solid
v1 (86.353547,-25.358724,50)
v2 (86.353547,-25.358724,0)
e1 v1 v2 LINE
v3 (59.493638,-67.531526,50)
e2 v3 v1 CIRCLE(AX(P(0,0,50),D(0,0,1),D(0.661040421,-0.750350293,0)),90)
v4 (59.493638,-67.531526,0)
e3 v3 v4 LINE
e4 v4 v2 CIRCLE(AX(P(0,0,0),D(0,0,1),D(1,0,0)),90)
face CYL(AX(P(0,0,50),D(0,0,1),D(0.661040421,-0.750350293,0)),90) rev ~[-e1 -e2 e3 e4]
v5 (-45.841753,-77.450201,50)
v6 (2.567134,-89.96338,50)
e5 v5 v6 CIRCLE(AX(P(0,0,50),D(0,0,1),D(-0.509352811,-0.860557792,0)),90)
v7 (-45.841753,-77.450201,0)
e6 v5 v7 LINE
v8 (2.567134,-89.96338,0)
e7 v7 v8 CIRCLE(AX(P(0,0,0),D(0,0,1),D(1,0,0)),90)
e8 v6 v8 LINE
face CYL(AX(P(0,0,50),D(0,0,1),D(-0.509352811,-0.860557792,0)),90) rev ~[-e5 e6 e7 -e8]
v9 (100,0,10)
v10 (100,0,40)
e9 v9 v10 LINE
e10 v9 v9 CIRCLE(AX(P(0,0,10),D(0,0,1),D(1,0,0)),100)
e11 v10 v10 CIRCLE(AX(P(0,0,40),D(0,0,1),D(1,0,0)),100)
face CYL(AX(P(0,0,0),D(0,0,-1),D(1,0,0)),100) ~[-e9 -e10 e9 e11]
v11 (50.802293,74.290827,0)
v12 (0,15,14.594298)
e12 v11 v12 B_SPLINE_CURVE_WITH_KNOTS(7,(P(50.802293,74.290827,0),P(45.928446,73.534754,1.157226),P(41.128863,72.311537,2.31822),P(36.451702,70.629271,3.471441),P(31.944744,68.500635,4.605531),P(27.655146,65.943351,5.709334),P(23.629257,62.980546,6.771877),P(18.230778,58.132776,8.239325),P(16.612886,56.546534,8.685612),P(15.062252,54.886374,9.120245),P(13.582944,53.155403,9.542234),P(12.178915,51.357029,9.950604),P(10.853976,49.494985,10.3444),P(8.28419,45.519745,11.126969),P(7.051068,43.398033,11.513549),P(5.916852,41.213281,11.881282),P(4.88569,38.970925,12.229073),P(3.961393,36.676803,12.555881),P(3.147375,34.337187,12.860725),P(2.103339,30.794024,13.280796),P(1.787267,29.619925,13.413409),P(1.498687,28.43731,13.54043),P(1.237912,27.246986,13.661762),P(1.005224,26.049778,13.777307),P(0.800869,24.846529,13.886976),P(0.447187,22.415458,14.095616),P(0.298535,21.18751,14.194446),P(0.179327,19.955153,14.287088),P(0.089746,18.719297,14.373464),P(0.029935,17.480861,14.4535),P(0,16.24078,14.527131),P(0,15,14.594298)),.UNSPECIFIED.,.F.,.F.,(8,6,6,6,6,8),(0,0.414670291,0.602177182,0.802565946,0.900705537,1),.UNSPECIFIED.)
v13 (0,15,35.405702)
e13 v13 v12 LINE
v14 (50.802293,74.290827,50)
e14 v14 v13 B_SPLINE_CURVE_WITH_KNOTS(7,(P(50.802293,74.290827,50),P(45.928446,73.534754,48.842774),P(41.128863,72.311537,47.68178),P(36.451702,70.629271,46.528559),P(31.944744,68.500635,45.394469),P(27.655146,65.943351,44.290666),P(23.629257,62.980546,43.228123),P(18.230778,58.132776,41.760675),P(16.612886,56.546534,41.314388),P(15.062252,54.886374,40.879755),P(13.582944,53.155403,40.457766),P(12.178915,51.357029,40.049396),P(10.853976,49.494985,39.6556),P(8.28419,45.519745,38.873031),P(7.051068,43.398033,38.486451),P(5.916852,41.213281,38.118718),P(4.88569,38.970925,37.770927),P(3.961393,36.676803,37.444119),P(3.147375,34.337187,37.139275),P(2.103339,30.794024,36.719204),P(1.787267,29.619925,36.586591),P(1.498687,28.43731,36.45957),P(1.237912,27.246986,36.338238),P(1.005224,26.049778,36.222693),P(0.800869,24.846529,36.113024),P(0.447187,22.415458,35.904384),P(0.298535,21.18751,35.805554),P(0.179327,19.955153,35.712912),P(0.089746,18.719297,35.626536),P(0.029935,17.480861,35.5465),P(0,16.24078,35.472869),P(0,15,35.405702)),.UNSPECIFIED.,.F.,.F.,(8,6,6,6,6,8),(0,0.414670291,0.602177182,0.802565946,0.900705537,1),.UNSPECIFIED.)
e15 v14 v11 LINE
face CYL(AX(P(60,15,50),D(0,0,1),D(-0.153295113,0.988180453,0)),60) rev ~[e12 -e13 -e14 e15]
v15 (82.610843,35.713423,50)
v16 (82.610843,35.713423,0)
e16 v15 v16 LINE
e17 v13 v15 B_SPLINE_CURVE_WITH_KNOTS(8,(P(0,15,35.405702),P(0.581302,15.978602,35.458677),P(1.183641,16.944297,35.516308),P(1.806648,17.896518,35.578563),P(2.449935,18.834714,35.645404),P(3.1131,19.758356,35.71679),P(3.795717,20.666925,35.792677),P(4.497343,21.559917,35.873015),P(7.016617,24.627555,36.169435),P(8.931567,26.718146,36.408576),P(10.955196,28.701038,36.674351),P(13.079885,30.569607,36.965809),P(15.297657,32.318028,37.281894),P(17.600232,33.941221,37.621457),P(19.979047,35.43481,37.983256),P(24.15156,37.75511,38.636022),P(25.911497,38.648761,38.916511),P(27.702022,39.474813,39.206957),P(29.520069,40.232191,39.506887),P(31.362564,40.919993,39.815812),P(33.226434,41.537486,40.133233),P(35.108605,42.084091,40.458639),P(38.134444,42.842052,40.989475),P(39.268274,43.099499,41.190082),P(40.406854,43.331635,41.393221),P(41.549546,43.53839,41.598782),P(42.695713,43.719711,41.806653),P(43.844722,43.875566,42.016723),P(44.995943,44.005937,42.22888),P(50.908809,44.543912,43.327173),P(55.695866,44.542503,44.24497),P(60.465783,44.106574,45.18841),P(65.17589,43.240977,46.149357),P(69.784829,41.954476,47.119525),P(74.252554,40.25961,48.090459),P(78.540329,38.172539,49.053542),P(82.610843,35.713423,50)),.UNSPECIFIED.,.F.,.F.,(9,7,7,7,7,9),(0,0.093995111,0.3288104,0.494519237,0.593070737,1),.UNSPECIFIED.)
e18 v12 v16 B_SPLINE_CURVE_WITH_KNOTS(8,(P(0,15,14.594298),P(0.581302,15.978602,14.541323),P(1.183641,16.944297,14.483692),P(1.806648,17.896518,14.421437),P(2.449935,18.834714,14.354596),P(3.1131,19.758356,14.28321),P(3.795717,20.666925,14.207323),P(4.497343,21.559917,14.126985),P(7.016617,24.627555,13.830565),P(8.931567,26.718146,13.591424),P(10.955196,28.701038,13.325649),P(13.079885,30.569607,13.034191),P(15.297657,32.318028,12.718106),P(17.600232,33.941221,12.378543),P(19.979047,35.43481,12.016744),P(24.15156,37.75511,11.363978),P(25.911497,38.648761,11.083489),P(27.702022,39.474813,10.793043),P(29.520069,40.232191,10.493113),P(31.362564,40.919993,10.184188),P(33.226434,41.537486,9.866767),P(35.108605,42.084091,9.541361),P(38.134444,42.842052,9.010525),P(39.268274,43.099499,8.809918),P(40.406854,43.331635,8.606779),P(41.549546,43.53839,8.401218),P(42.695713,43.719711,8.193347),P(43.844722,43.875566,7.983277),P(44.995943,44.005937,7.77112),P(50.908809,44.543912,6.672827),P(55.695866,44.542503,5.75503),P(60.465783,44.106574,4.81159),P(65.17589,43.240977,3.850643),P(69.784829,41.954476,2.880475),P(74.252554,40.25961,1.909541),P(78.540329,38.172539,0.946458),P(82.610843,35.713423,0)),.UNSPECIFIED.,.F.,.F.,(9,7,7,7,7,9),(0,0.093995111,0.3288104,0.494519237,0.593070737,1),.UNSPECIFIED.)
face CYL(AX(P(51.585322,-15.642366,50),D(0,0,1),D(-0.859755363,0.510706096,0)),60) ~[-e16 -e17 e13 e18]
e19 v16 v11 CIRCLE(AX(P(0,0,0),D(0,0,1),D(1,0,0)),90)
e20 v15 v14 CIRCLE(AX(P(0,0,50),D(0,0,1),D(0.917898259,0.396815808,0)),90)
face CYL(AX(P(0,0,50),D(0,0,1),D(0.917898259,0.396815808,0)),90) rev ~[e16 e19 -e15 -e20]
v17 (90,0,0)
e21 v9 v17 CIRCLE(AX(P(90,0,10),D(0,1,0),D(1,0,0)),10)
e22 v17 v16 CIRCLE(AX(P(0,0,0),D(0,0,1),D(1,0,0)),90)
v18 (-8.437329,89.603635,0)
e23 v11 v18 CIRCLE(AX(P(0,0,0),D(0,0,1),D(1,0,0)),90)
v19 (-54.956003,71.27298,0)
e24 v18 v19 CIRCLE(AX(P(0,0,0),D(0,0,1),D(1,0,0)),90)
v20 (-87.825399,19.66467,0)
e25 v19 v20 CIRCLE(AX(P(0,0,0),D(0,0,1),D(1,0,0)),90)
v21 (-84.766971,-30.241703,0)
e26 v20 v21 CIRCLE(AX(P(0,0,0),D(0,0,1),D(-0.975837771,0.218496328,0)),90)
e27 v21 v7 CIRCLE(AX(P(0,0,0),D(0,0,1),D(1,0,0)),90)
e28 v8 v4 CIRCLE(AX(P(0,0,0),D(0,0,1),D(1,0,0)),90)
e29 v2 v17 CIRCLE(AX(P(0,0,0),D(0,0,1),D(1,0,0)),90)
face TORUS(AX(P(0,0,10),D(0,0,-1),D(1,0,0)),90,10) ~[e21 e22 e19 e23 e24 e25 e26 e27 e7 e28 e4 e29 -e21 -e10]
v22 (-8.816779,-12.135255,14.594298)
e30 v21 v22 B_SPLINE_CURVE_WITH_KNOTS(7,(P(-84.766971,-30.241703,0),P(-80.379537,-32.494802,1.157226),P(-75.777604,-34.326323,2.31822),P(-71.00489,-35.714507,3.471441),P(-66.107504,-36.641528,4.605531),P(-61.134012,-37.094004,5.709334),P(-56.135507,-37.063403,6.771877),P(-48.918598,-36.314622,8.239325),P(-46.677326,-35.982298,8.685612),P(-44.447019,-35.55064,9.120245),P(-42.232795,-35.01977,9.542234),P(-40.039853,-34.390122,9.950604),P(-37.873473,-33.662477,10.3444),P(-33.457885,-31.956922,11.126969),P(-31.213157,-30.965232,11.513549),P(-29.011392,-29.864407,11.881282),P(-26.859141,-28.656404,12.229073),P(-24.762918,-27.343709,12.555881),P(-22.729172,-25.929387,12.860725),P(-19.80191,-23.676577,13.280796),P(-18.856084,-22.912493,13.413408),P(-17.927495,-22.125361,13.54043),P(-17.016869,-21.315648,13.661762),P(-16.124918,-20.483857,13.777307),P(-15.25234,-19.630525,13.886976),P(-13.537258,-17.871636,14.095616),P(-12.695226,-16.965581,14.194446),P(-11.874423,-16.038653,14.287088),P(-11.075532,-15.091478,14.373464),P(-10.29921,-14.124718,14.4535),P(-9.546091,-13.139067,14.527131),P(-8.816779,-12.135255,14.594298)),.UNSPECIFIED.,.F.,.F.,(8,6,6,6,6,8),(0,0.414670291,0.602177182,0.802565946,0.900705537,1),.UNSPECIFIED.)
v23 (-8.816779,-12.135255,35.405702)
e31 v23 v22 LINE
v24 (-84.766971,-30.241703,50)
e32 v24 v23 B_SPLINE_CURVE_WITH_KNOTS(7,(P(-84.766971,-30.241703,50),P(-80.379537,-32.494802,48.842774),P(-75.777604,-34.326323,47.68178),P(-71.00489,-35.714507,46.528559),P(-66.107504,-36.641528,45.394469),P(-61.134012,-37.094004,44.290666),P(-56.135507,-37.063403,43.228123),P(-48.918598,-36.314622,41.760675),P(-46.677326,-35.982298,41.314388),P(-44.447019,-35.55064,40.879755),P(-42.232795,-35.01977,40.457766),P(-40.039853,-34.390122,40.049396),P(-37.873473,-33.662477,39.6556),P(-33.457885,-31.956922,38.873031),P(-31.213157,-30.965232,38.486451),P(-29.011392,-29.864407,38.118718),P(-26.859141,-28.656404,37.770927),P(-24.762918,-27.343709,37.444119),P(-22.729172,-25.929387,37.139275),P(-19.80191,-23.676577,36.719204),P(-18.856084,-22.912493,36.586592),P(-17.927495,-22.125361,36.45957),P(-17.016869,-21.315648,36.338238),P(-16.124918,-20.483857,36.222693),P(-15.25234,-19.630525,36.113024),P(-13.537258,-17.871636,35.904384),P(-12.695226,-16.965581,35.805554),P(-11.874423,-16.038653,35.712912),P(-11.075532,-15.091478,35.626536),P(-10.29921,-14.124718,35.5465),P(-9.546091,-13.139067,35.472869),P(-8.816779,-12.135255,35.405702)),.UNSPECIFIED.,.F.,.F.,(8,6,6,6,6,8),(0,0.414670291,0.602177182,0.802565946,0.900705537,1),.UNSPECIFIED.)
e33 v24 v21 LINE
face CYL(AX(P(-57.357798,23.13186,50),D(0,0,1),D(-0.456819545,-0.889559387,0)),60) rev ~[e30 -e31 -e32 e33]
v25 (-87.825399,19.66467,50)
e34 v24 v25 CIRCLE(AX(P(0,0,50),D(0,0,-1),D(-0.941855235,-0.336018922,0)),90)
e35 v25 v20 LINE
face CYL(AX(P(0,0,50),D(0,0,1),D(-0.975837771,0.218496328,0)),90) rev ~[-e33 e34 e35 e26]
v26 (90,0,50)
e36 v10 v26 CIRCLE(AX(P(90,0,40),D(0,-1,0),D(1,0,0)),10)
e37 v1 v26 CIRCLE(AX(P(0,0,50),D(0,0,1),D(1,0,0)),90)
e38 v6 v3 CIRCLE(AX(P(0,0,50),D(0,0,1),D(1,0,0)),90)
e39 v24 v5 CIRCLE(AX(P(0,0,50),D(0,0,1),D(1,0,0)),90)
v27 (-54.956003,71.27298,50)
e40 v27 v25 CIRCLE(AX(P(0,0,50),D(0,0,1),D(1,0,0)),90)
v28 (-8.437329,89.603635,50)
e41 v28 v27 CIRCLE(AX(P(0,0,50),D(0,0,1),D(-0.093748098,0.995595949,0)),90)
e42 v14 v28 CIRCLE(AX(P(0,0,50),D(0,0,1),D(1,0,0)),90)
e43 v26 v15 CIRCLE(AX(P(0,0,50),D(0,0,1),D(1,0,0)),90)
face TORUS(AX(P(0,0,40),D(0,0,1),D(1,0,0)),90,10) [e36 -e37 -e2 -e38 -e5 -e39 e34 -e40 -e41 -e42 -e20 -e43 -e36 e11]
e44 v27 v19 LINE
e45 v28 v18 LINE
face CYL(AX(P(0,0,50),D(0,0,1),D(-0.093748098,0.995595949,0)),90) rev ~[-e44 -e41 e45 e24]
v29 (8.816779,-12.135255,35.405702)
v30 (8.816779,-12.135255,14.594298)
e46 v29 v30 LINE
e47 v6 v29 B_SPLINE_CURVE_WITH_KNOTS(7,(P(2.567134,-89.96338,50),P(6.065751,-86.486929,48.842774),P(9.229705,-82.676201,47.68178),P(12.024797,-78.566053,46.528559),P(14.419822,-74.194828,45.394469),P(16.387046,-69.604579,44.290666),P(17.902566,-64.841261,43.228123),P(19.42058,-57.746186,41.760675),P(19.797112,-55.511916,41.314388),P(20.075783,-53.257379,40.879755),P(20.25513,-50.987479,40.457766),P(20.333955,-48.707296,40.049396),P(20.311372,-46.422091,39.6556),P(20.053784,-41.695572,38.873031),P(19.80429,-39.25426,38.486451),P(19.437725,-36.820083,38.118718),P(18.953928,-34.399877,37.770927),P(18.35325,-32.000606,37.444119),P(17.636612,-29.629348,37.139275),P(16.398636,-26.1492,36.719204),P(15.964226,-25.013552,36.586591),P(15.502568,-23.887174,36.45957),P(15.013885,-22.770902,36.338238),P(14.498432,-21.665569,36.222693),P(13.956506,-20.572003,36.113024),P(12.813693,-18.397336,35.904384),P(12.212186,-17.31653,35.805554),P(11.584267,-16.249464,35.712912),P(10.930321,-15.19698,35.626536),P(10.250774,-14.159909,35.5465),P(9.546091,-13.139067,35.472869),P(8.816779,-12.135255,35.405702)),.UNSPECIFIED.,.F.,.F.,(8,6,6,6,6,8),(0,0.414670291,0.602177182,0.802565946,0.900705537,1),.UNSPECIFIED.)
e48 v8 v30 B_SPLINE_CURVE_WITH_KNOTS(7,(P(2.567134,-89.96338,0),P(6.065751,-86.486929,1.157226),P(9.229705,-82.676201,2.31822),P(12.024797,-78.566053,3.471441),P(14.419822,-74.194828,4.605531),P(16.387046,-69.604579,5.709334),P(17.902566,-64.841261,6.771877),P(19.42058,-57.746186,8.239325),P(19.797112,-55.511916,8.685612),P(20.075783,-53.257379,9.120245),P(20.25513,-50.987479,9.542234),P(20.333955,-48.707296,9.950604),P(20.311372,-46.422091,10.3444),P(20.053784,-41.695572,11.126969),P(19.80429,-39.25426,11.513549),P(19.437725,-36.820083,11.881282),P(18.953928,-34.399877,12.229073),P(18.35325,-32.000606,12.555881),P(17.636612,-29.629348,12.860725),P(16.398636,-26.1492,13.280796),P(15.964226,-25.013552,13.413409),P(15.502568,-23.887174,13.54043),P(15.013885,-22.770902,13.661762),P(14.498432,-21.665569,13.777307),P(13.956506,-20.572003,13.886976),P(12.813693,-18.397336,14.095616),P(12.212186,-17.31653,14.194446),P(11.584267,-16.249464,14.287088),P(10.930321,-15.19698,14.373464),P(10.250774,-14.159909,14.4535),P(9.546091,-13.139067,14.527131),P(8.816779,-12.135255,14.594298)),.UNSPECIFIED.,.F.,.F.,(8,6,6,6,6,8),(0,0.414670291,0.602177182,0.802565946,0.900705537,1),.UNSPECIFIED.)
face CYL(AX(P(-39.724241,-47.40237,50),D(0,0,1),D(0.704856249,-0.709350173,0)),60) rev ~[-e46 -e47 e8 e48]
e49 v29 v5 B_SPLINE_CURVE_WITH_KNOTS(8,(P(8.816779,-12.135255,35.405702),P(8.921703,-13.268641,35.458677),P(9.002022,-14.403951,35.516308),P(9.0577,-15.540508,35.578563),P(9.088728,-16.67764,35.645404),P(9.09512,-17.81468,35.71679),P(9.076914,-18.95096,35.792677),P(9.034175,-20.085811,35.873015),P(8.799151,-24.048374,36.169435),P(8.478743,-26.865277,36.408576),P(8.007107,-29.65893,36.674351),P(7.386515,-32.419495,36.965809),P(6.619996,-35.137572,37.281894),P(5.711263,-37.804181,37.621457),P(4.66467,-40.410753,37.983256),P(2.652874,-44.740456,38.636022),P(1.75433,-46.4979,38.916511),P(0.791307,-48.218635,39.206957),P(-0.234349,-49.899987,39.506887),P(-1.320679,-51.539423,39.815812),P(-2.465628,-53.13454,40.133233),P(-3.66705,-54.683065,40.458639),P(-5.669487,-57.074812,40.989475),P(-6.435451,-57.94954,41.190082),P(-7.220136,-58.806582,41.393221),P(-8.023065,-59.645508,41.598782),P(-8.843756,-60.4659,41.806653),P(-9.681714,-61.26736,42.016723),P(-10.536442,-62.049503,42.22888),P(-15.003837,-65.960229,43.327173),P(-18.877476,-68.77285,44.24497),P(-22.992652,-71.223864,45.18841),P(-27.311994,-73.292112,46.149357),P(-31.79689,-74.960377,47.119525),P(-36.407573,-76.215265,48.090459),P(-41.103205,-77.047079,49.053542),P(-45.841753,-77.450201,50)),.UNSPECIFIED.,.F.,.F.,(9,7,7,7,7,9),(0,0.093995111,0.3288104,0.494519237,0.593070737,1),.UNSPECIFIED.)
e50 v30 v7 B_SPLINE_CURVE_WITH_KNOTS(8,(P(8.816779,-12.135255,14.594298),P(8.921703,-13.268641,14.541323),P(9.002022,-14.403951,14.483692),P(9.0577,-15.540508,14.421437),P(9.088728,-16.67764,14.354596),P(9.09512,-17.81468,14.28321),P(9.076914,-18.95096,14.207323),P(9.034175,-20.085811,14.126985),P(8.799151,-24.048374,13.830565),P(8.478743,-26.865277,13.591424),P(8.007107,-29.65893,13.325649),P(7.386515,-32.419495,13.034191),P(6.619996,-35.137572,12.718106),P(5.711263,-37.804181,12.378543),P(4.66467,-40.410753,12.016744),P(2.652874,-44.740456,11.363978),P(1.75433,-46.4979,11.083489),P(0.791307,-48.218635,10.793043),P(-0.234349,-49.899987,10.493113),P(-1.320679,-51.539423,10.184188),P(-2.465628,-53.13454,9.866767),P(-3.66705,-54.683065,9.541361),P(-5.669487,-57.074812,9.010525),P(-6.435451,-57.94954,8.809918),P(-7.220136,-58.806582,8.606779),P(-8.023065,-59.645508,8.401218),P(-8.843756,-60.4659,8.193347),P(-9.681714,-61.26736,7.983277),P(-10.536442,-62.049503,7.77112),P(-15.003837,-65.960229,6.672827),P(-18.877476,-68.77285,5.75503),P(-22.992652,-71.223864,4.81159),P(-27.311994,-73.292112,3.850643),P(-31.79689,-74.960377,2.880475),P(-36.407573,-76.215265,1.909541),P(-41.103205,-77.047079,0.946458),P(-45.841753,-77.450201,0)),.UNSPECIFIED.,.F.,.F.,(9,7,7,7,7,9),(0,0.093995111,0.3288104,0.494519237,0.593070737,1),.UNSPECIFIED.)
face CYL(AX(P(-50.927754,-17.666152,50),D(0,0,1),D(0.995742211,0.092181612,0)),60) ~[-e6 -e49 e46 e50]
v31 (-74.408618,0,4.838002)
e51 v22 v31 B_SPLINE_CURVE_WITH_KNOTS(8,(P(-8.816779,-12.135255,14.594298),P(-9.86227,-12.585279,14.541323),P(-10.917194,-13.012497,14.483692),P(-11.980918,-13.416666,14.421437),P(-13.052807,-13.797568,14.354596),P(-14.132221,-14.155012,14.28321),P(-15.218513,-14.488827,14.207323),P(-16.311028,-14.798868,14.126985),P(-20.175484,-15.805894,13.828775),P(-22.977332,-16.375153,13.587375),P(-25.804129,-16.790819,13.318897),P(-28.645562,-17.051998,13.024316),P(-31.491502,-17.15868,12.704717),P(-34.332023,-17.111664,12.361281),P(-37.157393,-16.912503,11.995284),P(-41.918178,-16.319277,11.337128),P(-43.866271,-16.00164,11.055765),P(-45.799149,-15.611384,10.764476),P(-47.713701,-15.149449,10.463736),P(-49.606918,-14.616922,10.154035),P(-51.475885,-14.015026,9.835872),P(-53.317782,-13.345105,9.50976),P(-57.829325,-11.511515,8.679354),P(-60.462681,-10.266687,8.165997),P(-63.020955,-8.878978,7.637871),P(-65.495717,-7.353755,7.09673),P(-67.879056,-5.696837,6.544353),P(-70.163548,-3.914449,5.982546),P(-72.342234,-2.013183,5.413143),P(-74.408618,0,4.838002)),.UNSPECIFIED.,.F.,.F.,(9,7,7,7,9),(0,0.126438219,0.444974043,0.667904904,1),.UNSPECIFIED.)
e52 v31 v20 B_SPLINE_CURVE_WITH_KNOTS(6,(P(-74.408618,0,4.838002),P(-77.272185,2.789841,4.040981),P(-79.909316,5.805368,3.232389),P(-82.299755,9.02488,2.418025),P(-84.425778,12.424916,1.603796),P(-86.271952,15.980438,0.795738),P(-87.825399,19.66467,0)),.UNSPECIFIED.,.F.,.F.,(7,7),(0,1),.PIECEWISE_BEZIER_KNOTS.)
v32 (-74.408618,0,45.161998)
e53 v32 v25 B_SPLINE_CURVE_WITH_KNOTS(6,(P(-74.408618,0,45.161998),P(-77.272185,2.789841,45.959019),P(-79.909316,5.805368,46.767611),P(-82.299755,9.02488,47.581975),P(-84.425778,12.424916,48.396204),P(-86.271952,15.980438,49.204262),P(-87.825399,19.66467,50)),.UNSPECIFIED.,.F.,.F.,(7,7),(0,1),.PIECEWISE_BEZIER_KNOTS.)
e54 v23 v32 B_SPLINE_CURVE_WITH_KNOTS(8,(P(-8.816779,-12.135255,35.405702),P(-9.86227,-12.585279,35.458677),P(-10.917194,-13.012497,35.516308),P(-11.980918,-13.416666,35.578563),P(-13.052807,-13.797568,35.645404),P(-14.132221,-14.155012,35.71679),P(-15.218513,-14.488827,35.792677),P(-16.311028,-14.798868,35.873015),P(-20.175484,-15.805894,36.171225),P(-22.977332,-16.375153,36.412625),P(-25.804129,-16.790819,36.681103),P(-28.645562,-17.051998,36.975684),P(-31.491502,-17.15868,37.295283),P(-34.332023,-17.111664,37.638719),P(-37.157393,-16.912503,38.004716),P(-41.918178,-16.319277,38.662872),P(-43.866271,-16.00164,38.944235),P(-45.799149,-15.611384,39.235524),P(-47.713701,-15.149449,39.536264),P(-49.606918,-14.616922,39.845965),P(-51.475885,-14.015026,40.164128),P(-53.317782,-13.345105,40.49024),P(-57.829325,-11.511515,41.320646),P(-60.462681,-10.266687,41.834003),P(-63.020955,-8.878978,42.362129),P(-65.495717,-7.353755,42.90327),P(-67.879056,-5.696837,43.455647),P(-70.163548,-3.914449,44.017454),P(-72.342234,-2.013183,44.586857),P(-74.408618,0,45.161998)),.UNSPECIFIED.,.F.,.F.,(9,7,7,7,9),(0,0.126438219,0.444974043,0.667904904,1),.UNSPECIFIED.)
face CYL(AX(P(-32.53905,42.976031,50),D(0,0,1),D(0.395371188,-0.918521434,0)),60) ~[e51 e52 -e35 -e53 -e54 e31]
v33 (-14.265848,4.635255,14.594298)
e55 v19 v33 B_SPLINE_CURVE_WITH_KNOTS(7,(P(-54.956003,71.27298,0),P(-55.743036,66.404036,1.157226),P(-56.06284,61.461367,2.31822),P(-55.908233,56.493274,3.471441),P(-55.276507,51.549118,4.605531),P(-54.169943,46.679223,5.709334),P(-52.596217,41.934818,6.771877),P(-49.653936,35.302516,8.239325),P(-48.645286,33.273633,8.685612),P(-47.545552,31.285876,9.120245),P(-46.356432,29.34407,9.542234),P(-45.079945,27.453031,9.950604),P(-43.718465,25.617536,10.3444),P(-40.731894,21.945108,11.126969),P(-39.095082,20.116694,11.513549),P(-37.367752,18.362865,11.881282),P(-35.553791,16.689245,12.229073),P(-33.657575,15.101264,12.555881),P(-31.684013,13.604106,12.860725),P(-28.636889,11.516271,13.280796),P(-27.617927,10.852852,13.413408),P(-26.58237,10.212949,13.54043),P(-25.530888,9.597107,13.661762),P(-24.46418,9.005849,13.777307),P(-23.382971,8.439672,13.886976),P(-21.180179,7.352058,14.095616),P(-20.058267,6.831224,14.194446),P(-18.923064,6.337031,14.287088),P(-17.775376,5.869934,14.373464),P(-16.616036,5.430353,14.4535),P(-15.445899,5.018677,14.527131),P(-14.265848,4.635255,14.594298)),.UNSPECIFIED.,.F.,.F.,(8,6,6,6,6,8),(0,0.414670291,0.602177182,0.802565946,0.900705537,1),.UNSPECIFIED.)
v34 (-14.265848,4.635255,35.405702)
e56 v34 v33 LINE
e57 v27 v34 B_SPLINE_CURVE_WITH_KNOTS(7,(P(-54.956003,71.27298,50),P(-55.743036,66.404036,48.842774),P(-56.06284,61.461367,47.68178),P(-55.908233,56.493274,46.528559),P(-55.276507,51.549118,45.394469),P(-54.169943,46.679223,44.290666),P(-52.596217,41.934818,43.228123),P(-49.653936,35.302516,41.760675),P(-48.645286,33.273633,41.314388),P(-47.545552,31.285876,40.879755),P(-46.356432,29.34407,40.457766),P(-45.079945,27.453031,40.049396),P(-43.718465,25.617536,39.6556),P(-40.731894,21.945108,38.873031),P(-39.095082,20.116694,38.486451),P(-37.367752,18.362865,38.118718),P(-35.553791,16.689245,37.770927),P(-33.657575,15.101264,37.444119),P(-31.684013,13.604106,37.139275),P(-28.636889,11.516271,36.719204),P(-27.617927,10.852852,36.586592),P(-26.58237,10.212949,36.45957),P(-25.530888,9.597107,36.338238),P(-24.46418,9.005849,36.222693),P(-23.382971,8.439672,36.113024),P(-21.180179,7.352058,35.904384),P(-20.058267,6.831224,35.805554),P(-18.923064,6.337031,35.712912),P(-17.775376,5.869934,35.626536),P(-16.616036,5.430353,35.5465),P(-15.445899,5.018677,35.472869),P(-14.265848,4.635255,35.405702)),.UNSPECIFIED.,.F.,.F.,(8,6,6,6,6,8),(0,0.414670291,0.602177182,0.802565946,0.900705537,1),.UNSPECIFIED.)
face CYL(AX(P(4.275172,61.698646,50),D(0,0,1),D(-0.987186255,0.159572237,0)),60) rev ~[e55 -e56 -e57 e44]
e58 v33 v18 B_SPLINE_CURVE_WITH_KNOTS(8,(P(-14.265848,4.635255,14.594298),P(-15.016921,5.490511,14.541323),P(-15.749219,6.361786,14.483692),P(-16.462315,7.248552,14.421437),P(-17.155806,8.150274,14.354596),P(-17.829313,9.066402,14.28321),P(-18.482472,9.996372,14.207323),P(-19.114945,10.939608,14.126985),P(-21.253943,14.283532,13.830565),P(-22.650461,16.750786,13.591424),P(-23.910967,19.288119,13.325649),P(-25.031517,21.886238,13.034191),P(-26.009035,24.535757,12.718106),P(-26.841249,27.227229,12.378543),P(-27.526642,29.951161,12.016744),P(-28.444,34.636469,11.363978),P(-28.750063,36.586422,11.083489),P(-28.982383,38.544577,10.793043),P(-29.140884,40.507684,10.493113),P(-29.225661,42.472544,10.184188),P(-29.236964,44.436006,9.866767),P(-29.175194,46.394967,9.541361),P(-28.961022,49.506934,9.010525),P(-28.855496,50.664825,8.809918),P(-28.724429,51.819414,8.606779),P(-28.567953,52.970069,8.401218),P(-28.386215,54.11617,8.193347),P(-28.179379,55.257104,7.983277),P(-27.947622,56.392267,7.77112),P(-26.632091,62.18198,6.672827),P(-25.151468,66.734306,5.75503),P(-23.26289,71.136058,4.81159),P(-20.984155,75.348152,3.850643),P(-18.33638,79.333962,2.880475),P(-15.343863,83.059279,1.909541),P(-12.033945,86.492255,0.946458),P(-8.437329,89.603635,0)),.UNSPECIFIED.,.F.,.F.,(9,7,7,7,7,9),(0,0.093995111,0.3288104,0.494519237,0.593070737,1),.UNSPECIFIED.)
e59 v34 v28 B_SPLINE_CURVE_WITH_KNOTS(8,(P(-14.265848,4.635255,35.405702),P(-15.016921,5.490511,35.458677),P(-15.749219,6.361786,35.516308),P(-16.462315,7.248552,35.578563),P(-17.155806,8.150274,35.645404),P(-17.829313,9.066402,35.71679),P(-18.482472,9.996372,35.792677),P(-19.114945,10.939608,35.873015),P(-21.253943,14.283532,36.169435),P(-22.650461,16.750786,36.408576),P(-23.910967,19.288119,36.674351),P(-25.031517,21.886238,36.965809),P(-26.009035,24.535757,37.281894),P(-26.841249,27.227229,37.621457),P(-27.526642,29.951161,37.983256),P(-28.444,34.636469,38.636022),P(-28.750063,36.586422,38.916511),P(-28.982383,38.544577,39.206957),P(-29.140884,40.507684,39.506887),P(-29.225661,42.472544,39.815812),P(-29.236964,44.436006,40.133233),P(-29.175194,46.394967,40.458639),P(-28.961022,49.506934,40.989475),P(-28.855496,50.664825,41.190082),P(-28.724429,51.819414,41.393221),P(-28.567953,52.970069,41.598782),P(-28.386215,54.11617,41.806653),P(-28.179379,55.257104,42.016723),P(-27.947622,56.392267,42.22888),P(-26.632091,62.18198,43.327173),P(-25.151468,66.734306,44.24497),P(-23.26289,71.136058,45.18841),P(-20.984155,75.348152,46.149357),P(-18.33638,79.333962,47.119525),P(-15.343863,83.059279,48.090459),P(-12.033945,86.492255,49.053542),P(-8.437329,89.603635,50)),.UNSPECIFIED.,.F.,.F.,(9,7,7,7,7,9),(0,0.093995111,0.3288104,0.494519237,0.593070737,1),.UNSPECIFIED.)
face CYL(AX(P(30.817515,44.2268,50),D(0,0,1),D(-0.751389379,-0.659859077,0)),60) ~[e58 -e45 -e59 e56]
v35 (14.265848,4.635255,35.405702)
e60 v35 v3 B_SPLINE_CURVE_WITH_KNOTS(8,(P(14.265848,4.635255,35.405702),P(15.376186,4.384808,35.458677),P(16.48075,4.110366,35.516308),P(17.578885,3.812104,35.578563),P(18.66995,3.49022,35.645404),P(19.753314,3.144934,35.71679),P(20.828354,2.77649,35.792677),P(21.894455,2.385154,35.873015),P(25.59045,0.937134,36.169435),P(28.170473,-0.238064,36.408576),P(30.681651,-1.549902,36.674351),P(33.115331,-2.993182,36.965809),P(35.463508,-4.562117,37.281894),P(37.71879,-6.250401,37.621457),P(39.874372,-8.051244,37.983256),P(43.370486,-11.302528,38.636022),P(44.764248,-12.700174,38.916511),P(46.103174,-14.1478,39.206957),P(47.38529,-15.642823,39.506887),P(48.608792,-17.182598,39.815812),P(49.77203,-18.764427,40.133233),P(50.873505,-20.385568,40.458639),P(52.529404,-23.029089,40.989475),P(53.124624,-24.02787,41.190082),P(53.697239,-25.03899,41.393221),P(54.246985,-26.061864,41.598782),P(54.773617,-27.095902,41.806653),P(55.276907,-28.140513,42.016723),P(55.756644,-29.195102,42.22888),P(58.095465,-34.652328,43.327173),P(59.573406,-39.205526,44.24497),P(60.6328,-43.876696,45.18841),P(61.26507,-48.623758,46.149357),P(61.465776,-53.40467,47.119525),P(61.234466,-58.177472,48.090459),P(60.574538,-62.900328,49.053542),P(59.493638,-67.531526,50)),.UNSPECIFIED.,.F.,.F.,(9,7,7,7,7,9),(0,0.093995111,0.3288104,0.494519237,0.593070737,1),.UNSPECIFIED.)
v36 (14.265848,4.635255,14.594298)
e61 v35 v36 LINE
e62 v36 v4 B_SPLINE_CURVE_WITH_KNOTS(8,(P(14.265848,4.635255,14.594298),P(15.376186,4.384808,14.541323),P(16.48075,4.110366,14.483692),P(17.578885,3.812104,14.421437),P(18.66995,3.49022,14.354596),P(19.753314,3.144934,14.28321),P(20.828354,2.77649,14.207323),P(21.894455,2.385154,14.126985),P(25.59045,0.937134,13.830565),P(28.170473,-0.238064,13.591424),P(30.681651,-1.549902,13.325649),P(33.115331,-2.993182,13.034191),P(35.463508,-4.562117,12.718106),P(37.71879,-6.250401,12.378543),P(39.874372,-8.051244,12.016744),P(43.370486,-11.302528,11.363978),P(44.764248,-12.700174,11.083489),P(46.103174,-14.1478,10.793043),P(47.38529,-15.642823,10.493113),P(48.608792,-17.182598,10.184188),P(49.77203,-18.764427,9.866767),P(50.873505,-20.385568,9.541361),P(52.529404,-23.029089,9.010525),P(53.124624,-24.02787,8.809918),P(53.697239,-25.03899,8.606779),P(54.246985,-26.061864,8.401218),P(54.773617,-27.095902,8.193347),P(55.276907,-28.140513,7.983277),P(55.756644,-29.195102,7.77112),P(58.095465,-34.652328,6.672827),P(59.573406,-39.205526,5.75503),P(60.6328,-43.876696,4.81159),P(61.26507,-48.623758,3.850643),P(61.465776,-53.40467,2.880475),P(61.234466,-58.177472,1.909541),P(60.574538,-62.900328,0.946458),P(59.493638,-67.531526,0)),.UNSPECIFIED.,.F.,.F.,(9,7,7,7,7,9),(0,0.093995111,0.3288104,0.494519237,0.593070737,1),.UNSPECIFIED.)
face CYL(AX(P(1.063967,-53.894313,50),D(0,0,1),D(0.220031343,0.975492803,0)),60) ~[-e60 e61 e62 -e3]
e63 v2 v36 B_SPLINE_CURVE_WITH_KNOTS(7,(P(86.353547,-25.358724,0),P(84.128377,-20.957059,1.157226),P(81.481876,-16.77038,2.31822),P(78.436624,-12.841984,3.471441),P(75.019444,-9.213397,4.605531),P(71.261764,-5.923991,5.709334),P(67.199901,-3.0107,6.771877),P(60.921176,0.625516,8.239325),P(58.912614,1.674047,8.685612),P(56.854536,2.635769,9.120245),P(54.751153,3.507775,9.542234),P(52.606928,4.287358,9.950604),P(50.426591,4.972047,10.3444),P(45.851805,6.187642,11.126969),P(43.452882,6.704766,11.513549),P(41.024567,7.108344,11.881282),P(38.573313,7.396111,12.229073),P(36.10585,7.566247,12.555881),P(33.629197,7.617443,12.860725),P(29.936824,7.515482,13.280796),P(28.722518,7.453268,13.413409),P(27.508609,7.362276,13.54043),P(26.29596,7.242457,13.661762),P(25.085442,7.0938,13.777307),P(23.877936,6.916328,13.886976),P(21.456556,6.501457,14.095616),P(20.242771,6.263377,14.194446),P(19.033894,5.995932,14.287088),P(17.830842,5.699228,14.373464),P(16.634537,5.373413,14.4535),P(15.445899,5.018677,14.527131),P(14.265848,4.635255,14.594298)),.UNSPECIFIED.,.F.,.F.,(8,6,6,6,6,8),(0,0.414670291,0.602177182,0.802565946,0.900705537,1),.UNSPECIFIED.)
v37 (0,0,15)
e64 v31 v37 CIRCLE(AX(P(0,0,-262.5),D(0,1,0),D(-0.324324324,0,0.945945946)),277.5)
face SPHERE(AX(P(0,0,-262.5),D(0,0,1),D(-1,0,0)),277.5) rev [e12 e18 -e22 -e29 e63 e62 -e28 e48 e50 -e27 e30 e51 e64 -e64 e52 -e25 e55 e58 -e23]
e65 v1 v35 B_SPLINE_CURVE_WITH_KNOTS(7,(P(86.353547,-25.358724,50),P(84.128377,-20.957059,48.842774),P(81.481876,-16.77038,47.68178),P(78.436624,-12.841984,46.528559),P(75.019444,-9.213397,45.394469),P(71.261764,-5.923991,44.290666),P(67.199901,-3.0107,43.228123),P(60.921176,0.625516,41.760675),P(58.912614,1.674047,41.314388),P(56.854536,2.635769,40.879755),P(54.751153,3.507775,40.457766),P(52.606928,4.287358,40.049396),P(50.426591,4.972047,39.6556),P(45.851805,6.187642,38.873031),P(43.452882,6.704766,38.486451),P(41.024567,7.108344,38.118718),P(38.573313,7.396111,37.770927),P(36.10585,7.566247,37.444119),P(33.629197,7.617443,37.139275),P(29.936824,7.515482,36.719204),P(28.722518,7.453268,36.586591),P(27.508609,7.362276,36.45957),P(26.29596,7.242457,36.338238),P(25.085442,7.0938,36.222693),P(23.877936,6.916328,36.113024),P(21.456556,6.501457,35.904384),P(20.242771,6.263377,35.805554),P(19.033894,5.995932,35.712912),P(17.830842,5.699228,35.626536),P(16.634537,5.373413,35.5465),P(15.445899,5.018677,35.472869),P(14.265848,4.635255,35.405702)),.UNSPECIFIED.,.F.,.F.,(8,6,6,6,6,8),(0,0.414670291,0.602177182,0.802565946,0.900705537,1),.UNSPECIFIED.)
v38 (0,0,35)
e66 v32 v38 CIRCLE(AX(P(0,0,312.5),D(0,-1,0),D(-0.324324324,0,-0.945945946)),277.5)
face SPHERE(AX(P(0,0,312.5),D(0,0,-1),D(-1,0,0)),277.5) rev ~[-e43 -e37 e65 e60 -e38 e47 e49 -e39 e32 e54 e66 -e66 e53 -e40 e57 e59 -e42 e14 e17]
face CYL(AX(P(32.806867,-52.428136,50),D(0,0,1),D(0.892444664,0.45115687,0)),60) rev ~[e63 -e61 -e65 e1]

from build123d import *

# Parameters (mm, degrees)
SKETCH1_R           = 100
BOSS_EXTRUDE1_DEPTH = 50
FILLET1_R           = 10
CUT_EXTRUDE1_DEPTH  = 51
CIRPATTERN1_COUNT   = 5


with BuildPart() as part:
    # Sketch1 → Boss-Extrude1 (new body)
    with BuildSketch(Plane.XY):
        Circle(SKETCH1_R)
    extrude(amount=BOSS_EXTRUDE1_DEPTH)

    # Fillet1
    fillet1_edges = [part.edges().sort_by_distance(p)[0] for p in [
        (-100, 0, 0),
        (-100, 0, 50),
    ]]
    fillet(fillet1_edges, radius=FILLET1_R)

    # Sketch2 → Cut-Extrude1 (cut, through all)
    with BuildSketch(Plane.XY.offset(50)):
        with BuildLine():
            ThreePointArc((50.802293201, 74.290827196), (14.437611959, 54.039323714), (0, 15))
            ThreePointArc((0, 15), (36.99293279, 42.556106586), (82.610843349, 35.713422703))
            ThreePointArc((82.610843349, 35.713422703), (69.439328089, 57.255390267), (50.802293201, 74.290827196))
        make_face()
    cut_extrude1 = extrude(amount=-CUT_EXTRUDE1_DEPTH, mode=Mode.SUBTRACT)

    # CirPattern1: Cut-Extrude1 ×5 about axis
    cirpattern1_axis = Axis((0, 0, 0), (0, 0, 1))
    for i in range(1, CIRPATTERN1_COUNT):
        add(cut_extrude1.rotate(cirpattern1_axis, i * 360 / CIRPATTERN1_COUNT), mode=Mode.SUBTRACT)

    # Sketch3 → Cut-Revolve1 (revolve, cut)
    with BuildSketch(Plane(origin=(0, 0, 0), x_dir=(1, 0, 0), z_dir=(0, 1, 0))):
        with BuildLine():
            Line((0, 0), (-90, 0))
            ThreePointArc((-90, 0), (-45.620718977, -11.224313863), (0, -15))
            Line((0, -15), (0, 0))
        make_face()
        with BuildLine():
            Line((0, -50), (-90, -50))
            ThreePointArc((-90, -50), (-45.620718977, -38.775686137), (0, -35))
            Line((0, -35), (0, -50))
        make_face()
    revolve(axis=Axis((0, 0, 50), (0, 0, -1)), mode=Mode.SUBTRACT)


solid = part.part
